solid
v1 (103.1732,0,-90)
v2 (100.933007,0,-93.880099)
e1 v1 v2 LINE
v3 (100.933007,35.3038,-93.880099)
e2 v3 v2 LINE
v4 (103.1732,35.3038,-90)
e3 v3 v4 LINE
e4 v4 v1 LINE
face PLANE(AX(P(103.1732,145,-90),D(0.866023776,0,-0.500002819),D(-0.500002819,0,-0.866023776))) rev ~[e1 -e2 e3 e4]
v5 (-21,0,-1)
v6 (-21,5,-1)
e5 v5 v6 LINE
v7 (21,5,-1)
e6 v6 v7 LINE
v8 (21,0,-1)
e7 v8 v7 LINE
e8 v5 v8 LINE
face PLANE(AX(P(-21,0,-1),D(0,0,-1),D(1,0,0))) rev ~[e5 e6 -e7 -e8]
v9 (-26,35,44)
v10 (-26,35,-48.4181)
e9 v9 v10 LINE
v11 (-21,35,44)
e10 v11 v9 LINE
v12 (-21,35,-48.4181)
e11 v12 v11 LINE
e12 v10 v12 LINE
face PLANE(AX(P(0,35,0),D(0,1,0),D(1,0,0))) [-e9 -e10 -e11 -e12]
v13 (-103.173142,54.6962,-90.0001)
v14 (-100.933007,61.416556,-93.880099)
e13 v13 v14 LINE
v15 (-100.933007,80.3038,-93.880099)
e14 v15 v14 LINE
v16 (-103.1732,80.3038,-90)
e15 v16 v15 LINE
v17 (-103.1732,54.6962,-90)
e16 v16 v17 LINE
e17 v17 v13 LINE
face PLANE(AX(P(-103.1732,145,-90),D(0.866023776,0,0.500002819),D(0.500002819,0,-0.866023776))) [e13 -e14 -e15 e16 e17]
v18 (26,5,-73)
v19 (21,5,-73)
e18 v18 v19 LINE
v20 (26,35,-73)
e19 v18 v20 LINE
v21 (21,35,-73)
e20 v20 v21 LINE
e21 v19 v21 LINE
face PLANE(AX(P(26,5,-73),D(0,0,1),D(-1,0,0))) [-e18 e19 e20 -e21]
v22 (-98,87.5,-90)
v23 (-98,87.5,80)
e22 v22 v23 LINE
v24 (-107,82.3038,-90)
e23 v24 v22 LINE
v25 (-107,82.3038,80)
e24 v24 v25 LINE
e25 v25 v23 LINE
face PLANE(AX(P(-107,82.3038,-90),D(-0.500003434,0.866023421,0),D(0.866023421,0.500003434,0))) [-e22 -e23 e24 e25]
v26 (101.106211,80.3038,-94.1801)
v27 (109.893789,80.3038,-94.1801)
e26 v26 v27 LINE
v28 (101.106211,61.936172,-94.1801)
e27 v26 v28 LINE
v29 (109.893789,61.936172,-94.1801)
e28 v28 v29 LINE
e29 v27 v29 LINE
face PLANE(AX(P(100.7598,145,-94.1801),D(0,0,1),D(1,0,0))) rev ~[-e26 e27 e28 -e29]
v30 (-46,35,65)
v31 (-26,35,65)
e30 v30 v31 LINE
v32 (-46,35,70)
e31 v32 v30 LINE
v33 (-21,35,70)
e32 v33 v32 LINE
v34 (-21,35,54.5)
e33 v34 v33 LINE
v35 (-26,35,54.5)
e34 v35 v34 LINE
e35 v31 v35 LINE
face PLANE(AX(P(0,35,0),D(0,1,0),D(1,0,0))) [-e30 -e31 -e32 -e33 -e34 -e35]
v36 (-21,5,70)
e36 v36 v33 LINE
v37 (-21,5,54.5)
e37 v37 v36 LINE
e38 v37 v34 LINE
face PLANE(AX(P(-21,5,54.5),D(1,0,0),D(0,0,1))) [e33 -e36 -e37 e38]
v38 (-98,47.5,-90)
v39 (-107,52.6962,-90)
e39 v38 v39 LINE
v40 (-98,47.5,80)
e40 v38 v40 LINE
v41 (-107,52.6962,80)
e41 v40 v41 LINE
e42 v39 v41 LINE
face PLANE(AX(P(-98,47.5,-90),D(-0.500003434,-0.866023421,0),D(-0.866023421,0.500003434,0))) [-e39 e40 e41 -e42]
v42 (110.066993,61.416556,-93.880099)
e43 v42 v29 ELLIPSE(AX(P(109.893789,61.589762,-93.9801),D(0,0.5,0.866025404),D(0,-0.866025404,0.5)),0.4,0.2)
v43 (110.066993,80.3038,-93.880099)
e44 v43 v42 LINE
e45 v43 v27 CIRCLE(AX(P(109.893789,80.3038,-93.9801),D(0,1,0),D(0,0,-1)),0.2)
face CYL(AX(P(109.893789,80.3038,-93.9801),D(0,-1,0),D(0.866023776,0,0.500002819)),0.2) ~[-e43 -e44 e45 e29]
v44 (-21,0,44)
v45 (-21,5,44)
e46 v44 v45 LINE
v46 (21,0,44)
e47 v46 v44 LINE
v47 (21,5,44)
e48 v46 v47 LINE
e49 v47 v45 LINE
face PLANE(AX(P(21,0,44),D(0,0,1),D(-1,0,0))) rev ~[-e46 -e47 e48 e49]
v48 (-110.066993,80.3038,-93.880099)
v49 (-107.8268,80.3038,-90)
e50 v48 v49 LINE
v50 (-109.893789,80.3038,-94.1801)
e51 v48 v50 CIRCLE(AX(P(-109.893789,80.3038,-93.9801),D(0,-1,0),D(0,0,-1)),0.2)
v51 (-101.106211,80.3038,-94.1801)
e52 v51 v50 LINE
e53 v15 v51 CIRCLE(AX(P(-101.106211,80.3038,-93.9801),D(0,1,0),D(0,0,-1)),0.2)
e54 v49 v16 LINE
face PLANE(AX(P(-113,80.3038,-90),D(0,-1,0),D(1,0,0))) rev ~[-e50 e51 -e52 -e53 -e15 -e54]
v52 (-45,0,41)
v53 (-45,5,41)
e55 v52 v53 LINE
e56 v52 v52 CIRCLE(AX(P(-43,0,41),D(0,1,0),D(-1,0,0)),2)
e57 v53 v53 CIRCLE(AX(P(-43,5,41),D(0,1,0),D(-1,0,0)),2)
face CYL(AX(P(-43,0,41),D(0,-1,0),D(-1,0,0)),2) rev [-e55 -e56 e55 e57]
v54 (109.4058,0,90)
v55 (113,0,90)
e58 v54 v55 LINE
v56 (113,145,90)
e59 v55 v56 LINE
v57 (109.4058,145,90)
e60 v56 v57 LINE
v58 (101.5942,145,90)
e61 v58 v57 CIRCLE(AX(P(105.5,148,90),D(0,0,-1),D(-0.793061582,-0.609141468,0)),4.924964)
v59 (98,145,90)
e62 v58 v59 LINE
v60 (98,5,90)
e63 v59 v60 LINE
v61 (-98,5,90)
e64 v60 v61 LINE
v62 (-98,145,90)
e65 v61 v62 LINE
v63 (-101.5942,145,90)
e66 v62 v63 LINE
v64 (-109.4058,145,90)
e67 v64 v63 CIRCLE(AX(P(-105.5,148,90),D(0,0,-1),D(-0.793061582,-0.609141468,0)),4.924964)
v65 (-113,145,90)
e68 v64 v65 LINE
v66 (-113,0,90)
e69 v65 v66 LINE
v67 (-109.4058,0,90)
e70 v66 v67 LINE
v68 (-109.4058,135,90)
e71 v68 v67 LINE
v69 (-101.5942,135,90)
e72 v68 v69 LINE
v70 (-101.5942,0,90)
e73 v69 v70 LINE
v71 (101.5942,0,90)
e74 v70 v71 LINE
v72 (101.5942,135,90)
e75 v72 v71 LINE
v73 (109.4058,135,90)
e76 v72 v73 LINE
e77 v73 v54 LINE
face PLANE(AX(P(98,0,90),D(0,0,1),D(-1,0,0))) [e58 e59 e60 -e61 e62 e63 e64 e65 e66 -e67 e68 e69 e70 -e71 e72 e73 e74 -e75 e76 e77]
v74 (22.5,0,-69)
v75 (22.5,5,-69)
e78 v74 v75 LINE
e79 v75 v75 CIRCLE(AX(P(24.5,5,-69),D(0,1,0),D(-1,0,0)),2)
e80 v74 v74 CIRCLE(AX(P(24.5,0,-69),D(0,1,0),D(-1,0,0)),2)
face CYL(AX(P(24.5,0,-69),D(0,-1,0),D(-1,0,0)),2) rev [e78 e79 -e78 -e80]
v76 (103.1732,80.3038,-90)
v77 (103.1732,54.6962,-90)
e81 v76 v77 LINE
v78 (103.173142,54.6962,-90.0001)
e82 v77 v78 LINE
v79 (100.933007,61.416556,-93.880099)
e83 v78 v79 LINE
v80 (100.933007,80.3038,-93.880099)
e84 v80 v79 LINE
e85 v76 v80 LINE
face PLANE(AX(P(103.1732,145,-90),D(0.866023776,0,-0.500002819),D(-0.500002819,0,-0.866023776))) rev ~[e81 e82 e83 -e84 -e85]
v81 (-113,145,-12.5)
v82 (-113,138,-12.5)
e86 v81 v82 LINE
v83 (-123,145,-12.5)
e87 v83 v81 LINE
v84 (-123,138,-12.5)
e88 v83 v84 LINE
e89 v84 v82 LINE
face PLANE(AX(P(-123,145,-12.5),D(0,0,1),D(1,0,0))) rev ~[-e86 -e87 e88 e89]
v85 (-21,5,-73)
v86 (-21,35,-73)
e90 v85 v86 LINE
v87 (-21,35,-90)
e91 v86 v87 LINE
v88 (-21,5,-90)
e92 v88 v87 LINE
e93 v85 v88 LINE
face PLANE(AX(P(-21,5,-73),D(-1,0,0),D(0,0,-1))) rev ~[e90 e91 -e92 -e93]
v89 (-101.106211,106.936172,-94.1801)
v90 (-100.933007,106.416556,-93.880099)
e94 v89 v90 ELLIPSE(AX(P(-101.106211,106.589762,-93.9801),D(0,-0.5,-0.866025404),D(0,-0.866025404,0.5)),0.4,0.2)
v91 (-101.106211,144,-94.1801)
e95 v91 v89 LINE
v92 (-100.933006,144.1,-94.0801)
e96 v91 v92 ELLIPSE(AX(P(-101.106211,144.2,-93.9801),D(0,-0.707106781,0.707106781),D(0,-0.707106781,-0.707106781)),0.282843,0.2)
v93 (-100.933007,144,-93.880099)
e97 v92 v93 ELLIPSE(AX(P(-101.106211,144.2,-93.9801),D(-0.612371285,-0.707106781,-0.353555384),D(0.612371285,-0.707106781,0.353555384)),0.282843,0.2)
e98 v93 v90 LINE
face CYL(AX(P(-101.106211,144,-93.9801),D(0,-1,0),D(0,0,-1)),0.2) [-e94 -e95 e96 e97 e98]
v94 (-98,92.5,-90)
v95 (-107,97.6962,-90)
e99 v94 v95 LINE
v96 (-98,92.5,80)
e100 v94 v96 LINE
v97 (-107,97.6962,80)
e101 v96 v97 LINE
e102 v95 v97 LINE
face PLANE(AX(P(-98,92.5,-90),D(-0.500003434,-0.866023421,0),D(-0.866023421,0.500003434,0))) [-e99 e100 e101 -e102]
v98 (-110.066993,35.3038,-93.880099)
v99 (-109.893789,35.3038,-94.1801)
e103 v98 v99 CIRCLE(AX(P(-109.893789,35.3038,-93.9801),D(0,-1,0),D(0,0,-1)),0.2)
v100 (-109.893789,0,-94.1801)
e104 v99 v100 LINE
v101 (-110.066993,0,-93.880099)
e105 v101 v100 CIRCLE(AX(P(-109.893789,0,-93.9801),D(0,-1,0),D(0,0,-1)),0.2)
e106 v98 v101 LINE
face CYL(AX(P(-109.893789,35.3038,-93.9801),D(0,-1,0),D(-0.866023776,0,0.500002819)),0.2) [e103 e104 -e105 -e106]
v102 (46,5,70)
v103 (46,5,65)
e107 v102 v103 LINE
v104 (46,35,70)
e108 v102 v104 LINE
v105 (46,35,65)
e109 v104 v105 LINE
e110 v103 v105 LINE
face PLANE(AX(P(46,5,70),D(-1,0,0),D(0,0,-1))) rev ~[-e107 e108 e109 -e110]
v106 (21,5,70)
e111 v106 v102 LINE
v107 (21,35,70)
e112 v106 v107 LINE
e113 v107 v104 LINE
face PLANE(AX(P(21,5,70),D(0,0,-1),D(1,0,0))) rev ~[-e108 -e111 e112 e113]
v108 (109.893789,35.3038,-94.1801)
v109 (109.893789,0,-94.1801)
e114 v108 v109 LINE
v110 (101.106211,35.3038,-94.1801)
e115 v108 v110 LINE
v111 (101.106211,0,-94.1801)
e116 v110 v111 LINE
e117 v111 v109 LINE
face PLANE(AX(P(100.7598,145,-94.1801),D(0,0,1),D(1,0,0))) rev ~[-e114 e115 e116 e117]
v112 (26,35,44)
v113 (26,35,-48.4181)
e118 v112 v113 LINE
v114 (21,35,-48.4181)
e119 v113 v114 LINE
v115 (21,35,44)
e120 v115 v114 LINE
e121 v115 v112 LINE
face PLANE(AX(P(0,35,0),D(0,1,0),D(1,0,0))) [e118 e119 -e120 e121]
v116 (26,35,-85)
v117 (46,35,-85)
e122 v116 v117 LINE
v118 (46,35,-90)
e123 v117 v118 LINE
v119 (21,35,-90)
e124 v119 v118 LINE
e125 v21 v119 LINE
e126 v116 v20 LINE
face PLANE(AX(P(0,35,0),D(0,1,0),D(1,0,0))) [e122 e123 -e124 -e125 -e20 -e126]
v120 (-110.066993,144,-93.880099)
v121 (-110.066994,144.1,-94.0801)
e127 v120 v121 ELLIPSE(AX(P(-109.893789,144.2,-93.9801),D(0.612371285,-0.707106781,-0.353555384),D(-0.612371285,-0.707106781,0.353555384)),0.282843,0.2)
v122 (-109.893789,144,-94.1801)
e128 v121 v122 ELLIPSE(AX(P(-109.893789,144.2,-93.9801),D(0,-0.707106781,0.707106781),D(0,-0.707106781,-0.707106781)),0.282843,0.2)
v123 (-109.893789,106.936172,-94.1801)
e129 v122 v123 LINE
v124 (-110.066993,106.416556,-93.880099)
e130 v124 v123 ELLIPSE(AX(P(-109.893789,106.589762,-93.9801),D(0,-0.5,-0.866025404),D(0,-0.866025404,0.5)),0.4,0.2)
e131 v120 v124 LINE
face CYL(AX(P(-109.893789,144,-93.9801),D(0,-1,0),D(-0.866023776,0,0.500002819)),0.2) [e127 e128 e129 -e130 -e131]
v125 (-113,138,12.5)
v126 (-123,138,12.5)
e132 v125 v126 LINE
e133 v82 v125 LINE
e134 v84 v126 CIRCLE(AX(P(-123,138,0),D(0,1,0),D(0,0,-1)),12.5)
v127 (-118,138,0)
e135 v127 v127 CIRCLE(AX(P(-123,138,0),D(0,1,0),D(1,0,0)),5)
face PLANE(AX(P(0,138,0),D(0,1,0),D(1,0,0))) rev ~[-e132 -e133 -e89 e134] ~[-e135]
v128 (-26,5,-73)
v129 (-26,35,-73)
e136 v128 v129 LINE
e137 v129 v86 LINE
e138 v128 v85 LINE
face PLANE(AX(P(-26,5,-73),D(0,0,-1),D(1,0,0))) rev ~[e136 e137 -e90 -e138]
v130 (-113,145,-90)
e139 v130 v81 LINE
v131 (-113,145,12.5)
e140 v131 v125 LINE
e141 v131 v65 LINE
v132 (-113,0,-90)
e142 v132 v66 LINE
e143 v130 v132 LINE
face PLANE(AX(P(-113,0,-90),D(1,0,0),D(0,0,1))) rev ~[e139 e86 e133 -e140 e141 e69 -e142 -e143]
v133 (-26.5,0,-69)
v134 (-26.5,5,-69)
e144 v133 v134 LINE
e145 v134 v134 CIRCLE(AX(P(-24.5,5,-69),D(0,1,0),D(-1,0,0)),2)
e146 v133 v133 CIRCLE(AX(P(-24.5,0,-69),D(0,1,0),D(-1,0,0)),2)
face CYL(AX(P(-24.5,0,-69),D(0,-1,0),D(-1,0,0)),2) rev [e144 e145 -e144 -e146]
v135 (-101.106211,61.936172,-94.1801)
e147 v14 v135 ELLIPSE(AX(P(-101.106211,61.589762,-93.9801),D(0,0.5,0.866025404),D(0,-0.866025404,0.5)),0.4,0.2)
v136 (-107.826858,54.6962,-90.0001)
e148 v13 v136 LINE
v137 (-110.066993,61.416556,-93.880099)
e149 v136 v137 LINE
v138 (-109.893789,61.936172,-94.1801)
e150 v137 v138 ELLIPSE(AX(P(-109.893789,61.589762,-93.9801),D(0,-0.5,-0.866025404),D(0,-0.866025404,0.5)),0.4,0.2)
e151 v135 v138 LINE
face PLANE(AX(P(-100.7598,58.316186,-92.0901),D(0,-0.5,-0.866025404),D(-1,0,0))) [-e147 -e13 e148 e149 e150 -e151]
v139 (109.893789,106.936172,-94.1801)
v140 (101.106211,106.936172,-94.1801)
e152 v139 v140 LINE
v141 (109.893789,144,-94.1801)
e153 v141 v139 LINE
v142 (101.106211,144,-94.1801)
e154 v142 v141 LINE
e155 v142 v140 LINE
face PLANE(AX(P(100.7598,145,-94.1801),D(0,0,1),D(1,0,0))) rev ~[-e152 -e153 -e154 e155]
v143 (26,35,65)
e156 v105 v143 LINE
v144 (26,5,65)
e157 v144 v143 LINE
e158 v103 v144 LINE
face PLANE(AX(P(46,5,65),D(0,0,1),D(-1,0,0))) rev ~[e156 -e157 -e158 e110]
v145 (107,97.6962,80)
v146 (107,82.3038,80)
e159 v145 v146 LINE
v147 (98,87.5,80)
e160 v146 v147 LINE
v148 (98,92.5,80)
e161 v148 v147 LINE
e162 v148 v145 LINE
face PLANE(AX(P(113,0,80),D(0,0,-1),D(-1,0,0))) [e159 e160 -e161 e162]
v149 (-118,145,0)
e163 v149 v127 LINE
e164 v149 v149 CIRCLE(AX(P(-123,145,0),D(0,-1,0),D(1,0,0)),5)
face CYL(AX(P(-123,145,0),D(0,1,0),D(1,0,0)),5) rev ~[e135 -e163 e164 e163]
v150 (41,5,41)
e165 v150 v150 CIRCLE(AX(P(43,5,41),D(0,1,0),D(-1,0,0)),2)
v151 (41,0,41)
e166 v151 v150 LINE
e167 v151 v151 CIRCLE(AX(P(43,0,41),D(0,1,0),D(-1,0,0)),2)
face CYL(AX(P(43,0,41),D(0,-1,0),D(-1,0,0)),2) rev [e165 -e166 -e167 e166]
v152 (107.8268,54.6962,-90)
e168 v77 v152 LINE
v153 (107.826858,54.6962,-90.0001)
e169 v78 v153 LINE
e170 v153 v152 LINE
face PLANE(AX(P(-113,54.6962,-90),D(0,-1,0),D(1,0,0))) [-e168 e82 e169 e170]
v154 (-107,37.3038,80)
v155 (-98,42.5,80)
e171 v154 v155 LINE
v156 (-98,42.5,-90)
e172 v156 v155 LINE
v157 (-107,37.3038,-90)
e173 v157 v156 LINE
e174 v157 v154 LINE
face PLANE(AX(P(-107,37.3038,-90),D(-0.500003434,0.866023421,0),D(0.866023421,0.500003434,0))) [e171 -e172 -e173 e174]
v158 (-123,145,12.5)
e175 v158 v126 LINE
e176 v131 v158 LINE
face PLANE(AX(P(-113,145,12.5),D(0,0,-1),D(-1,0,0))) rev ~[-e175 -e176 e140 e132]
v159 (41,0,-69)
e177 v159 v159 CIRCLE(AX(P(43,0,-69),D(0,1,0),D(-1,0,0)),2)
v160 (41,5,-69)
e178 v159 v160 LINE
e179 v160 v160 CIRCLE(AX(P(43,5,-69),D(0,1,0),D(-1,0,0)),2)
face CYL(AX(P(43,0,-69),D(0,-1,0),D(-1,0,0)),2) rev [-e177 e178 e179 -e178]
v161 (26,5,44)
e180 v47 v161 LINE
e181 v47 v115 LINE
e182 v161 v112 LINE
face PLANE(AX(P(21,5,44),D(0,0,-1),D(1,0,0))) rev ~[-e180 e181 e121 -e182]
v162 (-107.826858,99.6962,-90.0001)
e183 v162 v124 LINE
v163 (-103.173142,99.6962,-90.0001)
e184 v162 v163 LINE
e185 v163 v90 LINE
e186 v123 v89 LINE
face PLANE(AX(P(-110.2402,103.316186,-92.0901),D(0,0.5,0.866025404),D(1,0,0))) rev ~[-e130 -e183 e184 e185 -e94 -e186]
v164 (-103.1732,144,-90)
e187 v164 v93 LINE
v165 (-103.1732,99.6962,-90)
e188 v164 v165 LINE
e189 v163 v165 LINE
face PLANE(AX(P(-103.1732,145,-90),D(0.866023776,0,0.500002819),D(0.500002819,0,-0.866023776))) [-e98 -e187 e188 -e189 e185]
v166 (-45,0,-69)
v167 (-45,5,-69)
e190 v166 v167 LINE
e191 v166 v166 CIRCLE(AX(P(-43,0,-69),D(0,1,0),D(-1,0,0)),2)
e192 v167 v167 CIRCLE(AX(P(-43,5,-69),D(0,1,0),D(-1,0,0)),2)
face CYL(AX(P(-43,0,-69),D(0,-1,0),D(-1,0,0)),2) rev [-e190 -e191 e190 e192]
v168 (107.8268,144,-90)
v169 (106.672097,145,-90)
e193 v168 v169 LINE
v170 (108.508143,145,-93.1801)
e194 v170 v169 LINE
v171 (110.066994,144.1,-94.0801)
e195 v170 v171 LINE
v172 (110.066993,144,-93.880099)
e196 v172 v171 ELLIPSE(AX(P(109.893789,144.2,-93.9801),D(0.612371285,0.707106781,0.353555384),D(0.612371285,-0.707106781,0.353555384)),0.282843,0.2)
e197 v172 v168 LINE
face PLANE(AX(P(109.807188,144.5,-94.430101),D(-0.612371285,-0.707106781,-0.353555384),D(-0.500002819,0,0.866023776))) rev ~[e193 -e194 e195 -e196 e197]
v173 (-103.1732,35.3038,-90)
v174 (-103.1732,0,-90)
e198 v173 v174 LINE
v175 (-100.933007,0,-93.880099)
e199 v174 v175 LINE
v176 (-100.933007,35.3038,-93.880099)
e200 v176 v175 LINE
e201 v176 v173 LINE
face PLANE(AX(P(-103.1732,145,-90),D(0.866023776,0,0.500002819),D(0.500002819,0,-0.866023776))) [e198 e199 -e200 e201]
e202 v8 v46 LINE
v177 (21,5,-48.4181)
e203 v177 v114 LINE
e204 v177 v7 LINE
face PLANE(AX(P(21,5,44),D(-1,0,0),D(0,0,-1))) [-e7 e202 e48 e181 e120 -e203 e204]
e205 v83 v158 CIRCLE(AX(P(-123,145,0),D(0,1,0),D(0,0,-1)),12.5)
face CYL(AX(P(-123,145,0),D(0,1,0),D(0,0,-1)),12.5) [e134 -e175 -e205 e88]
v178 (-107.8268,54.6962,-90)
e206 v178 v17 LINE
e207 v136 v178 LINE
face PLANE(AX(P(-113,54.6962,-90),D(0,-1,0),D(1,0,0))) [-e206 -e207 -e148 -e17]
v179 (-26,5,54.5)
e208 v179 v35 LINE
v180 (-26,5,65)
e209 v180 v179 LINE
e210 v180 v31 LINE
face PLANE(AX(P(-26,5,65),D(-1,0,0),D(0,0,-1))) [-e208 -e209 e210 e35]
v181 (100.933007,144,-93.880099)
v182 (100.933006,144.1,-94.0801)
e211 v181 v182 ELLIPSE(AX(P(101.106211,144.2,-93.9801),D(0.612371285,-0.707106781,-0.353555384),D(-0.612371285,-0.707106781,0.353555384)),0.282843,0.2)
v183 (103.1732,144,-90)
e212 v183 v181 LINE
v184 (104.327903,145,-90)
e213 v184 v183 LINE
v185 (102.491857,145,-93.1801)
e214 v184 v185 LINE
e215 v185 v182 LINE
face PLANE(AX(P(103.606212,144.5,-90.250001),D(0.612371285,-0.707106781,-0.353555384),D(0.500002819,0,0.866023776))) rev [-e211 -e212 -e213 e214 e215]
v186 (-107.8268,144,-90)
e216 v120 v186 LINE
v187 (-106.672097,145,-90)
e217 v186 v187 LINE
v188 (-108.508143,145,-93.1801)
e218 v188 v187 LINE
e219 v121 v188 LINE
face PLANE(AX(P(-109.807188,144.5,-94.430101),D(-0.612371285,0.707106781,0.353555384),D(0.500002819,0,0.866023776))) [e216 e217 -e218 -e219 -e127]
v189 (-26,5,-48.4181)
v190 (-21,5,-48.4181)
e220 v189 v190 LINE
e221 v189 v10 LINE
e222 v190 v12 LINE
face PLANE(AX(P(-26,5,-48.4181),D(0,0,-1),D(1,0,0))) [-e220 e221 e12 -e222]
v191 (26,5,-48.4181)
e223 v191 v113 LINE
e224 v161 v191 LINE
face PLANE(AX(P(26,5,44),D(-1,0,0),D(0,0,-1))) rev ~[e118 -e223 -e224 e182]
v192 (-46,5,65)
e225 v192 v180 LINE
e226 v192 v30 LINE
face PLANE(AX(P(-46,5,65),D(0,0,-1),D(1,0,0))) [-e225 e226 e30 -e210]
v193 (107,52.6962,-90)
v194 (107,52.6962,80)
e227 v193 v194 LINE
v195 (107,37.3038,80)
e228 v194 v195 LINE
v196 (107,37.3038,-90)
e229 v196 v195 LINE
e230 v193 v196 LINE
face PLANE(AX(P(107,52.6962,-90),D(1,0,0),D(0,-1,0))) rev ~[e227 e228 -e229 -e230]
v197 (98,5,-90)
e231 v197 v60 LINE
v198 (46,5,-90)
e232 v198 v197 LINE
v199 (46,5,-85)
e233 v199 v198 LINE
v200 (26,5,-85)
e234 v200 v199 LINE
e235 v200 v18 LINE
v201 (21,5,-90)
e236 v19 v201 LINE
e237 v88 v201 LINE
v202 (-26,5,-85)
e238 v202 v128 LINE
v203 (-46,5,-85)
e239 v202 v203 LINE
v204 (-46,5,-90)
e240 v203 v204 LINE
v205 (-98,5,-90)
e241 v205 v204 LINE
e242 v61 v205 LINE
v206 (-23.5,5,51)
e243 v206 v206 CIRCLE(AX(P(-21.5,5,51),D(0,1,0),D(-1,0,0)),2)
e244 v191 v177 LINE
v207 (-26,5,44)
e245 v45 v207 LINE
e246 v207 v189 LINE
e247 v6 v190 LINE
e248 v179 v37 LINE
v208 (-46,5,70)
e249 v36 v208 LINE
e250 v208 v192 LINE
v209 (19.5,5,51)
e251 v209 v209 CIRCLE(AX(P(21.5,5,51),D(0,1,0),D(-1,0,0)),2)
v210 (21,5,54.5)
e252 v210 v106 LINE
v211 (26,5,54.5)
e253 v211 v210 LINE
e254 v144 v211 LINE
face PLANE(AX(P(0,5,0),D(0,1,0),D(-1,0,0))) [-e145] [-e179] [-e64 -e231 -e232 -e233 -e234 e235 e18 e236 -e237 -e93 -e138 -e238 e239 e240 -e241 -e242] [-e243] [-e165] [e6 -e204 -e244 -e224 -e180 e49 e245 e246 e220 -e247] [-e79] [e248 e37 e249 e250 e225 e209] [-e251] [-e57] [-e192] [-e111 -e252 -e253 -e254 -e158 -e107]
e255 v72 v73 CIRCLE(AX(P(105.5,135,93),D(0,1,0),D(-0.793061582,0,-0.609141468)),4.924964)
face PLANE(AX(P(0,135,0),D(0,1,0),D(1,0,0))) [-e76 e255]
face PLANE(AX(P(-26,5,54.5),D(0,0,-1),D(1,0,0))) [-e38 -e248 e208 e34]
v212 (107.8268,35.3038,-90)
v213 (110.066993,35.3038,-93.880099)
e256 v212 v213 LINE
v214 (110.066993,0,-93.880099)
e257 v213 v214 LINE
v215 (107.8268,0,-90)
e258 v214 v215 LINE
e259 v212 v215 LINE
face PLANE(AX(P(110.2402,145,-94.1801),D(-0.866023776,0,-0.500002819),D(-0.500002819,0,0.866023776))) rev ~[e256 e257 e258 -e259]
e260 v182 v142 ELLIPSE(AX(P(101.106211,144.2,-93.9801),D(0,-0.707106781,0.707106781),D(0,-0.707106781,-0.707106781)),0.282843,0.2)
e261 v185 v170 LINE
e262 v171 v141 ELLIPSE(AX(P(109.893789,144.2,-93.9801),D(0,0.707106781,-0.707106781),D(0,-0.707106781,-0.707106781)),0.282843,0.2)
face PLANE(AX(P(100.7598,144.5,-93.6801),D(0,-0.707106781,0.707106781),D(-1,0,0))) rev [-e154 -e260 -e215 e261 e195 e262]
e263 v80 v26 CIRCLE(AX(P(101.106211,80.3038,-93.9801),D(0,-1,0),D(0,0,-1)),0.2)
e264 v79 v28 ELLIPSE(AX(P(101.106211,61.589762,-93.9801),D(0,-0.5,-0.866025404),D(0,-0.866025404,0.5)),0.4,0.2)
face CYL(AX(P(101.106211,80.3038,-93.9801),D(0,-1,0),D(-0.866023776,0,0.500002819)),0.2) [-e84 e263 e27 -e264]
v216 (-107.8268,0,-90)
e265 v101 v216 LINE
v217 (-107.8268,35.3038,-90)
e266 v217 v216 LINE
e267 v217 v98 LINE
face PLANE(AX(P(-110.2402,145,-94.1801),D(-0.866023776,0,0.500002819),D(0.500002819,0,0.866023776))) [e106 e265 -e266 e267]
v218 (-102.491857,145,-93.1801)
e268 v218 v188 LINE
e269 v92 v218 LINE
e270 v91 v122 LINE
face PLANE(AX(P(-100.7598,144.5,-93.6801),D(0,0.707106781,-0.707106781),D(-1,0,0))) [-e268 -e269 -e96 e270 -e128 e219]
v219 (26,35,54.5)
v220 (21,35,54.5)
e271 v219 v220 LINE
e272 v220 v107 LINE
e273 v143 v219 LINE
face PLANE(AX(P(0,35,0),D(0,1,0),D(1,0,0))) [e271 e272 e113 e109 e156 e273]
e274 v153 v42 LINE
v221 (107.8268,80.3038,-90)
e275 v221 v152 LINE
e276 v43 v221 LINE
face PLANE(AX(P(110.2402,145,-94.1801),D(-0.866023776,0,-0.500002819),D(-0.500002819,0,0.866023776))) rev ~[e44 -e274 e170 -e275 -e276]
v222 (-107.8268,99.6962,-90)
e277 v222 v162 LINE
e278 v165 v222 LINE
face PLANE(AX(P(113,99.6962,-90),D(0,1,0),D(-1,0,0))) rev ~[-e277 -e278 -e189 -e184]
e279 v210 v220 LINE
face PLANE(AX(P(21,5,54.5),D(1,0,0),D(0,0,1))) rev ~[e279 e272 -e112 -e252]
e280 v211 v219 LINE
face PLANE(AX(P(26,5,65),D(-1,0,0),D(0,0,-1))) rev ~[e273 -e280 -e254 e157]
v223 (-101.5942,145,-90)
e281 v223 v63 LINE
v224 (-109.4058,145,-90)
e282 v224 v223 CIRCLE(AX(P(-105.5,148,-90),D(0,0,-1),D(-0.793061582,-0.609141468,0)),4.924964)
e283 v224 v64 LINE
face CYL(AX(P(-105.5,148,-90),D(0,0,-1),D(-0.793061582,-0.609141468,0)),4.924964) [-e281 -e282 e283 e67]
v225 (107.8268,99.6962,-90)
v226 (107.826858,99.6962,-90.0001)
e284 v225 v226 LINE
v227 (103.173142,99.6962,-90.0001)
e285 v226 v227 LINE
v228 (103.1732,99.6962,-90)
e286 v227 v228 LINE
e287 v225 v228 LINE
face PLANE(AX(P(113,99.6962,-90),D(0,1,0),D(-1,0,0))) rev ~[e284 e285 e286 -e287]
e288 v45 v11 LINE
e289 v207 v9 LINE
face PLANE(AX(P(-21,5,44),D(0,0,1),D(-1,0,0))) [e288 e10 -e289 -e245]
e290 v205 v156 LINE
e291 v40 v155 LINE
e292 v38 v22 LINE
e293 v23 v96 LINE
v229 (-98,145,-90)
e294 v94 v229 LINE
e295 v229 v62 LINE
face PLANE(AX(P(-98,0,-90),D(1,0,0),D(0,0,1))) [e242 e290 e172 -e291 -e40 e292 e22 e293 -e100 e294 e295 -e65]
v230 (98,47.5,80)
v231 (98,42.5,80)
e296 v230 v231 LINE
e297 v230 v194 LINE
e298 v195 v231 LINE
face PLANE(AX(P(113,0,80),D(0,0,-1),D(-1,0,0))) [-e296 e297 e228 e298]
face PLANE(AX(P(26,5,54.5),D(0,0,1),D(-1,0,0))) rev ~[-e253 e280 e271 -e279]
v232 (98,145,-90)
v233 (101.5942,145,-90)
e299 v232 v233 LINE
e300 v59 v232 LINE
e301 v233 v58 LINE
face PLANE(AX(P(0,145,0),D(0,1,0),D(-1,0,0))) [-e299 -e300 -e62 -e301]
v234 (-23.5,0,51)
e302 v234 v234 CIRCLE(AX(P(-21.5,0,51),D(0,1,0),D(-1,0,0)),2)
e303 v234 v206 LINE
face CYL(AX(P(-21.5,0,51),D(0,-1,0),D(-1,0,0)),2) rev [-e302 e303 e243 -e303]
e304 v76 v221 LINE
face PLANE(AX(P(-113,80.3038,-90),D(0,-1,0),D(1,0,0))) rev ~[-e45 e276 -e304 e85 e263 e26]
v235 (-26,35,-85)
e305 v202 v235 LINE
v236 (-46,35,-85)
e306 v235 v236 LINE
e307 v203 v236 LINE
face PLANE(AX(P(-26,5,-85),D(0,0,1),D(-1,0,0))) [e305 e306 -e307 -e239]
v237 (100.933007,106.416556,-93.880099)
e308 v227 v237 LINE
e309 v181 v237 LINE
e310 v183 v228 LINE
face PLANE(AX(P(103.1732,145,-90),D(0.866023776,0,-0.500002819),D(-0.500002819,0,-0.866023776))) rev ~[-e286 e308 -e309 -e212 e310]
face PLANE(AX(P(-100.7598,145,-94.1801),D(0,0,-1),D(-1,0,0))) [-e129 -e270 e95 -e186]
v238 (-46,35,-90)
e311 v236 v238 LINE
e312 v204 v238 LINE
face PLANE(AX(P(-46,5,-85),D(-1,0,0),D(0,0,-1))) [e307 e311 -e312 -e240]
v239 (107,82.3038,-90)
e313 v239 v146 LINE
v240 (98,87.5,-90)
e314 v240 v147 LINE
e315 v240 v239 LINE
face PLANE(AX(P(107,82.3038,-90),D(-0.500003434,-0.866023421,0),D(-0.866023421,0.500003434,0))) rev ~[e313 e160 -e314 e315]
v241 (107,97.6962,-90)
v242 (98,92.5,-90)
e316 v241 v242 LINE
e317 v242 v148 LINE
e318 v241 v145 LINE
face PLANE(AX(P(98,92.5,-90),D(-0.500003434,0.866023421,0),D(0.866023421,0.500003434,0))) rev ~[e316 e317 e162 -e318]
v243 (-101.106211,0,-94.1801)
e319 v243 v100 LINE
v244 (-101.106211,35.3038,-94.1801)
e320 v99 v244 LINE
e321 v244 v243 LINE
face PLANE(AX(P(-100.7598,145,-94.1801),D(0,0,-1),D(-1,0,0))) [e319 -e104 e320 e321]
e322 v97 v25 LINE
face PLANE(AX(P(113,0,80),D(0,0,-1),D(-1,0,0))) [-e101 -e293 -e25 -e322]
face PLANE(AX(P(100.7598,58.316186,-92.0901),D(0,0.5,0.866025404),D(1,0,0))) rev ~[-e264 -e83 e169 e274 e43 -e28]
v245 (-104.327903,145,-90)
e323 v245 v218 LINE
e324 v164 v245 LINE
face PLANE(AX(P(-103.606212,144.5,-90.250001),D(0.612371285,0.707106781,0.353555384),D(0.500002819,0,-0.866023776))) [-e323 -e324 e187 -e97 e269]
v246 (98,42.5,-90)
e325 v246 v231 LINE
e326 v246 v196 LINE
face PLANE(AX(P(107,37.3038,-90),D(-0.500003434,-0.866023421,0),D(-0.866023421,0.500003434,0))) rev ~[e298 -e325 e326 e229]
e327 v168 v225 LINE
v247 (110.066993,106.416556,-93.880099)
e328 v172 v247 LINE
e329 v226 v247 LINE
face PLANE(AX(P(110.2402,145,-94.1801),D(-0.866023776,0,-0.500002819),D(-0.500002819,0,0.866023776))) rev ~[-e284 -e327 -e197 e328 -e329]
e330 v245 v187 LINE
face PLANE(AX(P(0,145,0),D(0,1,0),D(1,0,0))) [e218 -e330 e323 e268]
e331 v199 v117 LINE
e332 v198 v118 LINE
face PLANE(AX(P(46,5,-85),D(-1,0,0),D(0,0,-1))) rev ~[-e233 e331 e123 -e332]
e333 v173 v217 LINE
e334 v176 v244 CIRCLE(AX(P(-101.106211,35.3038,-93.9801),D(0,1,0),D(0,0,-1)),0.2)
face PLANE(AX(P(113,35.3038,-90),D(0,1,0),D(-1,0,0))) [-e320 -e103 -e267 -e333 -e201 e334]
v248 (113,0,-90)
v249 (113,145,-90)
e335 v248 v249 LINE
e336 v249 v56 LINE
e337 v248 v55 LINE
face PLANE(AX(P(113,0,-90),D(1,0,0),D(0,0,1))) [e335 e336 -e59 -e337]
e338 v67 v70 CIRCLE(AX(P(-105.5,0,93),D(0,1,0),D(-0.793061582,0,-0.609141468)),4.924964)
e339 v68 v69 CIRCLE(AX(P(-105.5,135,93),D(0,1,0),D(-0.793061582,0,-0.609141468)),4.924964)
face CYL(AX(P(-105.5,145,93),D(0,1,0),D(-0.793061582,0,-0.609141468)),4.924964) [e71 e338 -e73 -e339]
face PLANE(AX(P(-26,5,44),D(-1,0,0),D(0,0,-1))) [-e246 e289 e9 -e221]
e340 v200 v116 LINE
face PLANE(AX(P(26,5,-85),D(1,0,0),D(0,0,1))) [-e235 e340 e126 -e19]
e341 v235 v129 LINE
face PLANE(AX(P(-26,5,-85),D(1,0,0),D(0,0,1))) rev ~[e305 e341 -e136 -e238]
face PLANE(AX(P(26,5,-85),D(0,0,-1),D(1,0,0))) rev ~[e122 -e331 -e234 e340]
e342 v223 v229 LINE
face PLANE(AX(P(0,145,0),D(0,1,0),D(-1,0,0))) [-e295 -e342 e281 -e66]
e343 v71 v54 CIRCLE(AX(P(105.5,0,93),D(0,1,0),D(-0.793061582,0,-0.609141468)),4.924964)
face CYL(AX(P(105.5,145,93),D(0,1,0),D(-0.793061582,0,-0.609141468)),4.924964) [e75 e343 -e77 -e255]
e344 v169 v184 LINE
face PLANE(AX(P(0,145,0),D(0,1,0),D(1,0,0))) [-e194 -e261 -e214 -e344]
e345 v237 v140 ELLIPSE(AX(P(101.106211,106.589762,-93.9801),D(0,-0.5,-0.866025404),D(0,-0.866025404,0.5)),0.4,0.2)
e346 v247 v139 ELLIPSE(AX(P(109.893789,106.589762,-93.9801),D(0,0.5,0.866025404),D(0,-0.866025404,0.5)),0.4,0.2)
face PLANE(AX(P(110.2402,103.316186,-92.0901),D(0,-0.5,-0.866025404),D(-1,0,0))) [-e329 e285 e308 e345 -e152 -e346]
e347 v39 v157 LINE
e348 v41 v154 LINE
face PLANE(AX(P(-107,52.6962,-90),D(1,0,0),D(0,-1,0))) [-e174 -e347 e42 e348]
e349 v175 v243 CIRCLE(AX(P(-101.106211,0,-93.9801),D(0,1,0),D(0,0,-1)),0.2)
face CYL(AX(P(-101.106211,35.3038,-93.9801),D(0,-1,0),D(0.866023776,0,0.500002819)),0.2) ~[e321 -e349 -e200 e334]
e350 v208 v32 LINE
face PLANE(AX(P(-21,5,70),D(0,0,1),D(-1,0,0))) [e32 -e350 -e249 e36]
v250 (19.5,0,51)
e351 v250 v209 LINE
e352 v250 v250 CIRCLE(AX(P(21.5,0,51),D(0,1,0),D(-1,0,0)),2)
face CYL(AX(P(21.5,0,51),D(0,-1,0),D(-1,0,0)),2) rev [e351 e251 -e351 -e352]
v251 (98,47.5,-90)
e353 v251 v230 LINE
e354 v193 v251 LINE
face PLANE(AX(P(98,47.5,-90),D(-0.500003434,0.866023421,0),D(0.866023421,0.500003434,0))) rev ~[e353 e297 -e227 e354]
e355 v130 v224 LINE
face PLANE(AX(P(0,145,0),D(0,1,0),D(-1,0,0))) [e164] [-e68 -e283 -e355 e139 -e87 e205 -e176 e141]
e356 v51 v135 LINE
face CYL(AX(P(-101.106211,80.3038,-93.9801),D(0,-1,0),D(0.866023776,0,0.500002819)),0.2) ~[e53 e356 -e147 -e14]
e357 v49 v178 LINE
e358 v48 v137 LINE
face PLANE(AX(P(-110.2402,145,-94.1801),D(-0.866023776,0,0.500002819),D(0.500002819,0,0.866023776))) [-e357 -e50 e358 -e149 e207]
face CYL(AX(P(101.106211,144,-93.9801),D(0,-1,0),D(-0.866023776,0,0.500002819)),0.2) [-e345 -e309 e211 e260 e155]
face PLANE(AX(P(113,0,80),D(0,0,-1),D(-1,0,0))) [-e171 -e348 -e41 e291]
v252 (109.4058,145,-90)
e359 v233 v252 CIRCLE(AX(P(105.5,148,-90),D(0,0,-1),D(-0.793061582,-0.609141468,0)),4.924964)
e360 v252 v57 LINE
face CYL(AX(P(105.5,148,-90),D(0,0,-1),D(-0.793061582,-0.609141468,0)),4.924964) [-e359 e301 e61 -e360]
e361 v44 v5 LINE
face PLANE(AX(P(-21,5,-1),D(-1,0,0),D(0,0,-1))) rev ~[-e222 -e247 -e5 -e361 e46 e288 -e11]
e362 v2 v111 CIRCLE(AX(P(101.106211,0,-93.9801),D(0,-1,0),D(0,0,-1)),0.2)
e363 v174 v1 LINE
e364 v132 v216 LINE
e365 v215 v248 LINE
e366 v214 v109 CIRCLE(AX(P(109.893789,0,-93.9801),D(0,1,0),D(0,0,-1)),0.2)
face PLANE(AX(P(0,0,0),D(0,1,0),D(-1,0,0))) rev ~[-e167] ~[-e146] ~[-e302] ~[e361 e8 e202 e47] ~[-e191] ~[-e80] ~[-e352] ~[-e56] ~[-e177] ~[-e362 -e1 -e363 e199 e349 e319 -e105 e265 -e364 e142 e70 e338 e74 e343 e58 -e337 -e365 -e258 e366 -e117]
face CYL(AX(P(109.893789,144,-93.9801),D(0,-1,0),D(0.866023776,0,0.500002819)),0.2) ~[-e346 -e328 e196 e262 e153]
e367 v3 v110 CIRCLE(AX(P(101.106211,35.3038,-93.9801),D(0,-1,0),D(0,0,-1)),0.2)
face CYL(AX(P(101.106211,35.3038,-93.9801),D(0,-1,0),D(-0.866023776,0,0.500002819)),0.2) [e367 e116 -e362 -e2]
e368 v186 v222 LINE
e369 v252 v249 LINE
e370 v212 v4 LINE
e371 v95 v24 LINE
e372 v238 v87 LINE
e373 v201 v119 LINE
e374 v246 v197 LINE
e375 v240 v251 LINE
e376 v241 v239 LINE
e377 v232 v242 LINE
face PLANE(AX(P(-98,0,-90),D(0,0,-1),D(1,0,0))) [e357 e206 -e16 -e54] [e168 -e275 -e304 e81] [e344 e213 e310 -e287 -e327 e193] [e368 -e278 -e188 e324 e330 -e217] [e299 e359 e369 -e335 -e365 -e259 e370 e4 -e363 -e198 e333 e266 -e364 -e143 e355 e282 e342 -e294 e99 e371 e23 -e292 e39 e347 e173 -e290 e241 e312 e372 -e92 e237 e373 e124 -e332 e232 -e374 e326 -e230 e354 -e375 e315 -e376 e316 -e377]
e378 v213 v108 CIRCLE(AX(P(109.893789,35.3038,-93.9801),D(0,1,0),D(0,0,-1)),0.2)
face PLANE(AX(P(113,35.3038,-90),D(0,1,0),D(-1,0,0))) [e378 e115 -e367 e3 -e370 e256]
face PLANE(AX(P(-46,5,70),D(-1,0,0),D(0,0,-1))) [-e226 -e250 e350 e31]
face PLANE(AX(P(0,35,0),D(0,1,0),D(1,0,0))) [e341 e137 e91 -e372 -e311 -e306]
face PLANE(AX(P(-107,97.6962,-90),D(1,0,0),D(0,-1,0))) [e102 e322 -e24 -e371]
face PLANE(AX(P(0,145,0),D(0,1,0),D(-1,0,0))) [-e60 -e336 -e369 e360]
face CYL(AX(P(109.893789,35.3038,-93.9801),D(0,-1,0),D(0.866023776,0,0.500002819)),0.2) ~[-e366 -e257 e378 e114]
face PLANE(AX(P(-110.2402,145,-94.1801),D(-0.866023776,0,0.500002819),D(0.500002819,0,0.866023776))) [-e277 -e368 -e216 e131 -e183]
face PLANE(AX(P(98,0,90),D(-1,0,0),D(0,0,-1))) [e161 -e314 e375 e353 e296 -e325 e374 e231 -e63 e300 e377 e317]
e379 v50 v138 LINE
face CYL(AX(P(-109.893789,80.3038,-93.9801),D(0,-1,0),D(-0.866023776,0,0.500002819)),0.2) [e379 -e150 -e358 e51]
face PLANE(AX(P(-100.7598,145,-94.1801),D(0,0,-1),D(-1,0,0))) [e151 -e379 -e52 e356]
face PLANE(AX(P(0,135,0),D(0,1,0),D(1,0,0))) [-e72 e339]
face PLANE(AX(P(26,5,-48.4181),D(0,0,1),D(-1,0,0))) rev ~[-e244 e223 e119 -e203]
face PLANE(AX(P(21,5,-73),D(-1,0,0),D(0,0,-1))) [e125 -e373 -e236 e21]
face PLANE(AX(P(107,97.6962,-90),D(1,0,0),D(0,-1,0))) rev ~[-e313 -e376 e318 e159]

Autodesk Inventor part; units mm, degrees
ref_plane "YZ Plane" through (0, 0, 0) normal (1, 0, 0) x (0, 1, 0)
ref_plane "XZ Plane" through (0, 0, 0) normal (0, 1, 0) x (-1, 0, 0)
ref_plane "XY Plane" through (0, 0, 0) normal (0, 0, 1) x (1, 0, 0)
sketch "Boceto2" plane through (0, 0, 0) normal (0, 1, 0) x (-1, 0, 0)
  line L0 (-98, 90) -> (98, 90)
  line L1 (98, 90) -> (98, -90)
  line L2 (98, -90) -> (-98, -90)
  line L3 (-98, -90) -> (-98, 90)
  line L4 (-98, 90) -> (98, -90) construction
  line L5 (98, 90) -> (-98, -90) construction
  line L6 (0, -120.4592) -> (0, 245.0518) construction
  line L7 (141.8909, 0) -> (-193.3572, 0) construction
  circle A0 centre (24.5, -69) radius 2
  circle A1 centre (-24.5, -69) radius 2
  line L8 (106.6524, -69) -> (-120.4554, -69) construction
  circle A2 centre (43, -69) radius 2
  circle A3 centre (-43, -69) radius 2
  line L9 (127.2452, 51) -> (-131.3405, 51) construction
  circle A4 centre (21.5, 51) radius 2
  circle A5 centre (-21.5, 51) radius 2
  line L10 (127.2452, 41) -> (-220.4146, 41) construction
  circle A6 centre (43, 41) radius 2
  circle A7 centre (-43, 41) radius 2
  line L11 (-21, 44) -> (21, 44)
  line L12 (21, 44) -> (21, -1)
  line L13 (21, -1) -> (-21, -1)
  line L14 (-21, -1) -> (-21, 44)
  line L15 (-21, 44) -> (21, -1) construction
  line L16 (21, 44) -> (-21, -1) construction
  point P0 (0, 0)
  point P1 (0, 21.5)
  dimension "d0" = 196
  dimension "d1" = 180
  dimension "d2" = 4
  dimension "d3" = 4
  dimension "d4" = 21
  dimension "d5" = 49
  dimension "d6" = 4
  dimension "d7" = 4
  dimension "d8" = 86
  dimension "d10" = 4
  dimension "d11" = 4
  dimension "d12" = 43
  dimension "d13" = 141
  dimension "d14" = 10
  dimension "d15" = 4
  dimension "d16" = 4
  dimension "d17" = 86
  dimension "d18" = 42
  dimension "d19" = 45
  dimension "d20" = 89
extrude "Extrusión1" add sketch "Boceto2" along normal blind 5
sketch "Boceto4" plane through (0, 0, 0) normal (0, 1, 0) x (-1, 0, 0)
  line L0 (-98, -90) -> (98, -90) projected
  line L1 (98, -90) -> (98, 90) projected
  line L2 (98, 90) -> (-98, 90) projected
  line L3 (-98, 90) -> (-98, -90) projected
  line L4 (113, -90) -> (113, 90)
  line L5 (-113, -90) -> (-113, 90)
  line L6 (203.0929, 0) -> (-180.6061, 0) construction
  line L7 (113, -90) -> (98, -90)
  line L8 (98, -90) -> (98, 90)
  line L9 (113, 90) -> (98, 90)
  line L10 (-98, -90) -> (-113, -90)
  line L11 (-113, 90) -> (-98, 90)
  line L12 (-98, 90) -> (-98, -90)
  point P0 (0, 0)
  point P1 (113, 0)
  point P2 (-113, 0)
  dimension "d25" = 15
  dimension "d26" = 15
extrude "Extrusión2" add sketch "Boceto4" along normal blind 145 contours L10 L5 L11 L3 | L1 L9 L4 L7
sketch "Boceto5" plane through (0, 5, 0) normal (0, 1, 0) x (1, 0, 0)
  line L0 (-113, -90) -> (-113, 90) projected
  line L1 (-113, 90) -> (-98, 90) projected
  line L2 (-98, 90) -> (-98, -90) projected
  line L3 (98, -90) -> (-98, -90) projected
  line L4 (98, -90) -> (98, 90) projected
  line L5 (98, 90) -> (113, 90) projected
  line L6 (113, 90) -> (113, -90) projected
  line L7 (113, -90) -> (98, -90) projected
  line L8 (-98, -90) -> (-113, -90) projected
  line L9 (-98, 90) -> (98, 90) projected
  line L10 (21, -44) -> (21, 1) projected
  line L11 (21, 1) -> (-21, 1) projected
  line L12 (-21, 1) -> (-21, -44) projected
  line L13 (-21, -44) -> (21, -44) projected
  circle A0 centre (-24.5, 69) radius 2 projected
  circle A1 centre (24.5, 69) radius 2 projected
  circle A2 centre (-43, 69) radius 2 projected
  circle A3 centre (43, 69) radius 2 projected
  circle A4 centre (-21.5, -51) radius 2 projected
  circle A5 centre (21.5, -51) radius 2 projected
  circle A6 centre (-43, -41) radius 2 projected
  circle A7 centre (43, -41) radius 2 projected
  line L14 (98, 90) -> (-98, 90) projected
  line L15 (21, -44) -> (26, -44)
  line L16 (26, 48.4181) -> (21, 48.4181)
  line L17 (158.8769, 0) -> (-159.3491, 0) construction
  line L18 (0, -90) -> (0, 90) construction
  line L19 (-21, -44) -> (-21, 1)
  line L20 (26, 85) -> (46, 85)
  line L21 (21, 90) -> (46, 90)
  line L22 (46, 85) -> (46, 90)
  line L23 (26, 85) -> (26, 73)
  line L24 (26, 73) -> (21, 73)
  line L25 (21, -44) -> (21, 48.4181)
  line L26 (21, 73) -> (21, 90)
  line L27 (26, -44) -> (26, 48.4181)
  line L28 (21, -54.5) -> (21, -70)
  line L29 (21, -70) -> (46, -70)
  line L30 (46, -70) -> (46, -65)
  line L31 (46, -65) -> (26, -65)
  line L32 (26, -65) -> (26, -54.5)
  line L33 (26, -54.5) -> (21, -54.5)
  line L34 (21, 1) -> (21, -44) projected
  line L35 (98, 90) -> (-98, 90) projected
  line L36 (-98, 90) -> (-98, -90) projected
  line L37 (-98, -90) -> (98, -90) projected
  line L38 (98, -90) -> (98, 90) projected
  circle A8 centre (43, -41) radius 2 projected
  circle A9 centre (-43, -41) radius 2 projected
  circle A10 centre (21.5, -51) radius 2 projected
  circle A11 centre (-21.5, -51) radius 2 projected
  circle A12 centre (43, 69) radius 2 projected
  circle A13 centre (-43, 69) radius 2 projected
  circle A14 centre (24.5, 69) radius 2 projected
  circle A15 centre (-24.5, 69) radius 2 projected
  line L39 (21, -44) -> (-21, -44) projected
  line L40 (-21, -44) -> (-21, 1) projected
  line L41 (-21, 1) -> (21, 1) projected
  line L42 (21, 1) -> (21, -44) projected
  line L43 (-21, -54.5) -> (-21, -70)
  line L44 (-21, -70) -> (-46, -70)
  line L45 (-46, -70) -> (-46, -65)
  line L46 (-46, -65) -> (-26, -65)
  line L47 (-26, -65) -> (-26, -54.5)
  line L48 (-26, -54.5) -> (-21, -54.5)
  line L49 (-26, 85) -> (-46, 85)
  line L50 (-21, 90) -> (-46, 90)
  line L51 (-46, 85) -> (-46, 90)
  line L52 (-26, 85) -> (-26, 73)
  line L53 (-26, 73) -> (-21, 73)
  line L54 (-21, 73) -> (-21, 90)
  line L55 (-21, -44) -> (-21, 1)
  line L56 (-21, -44) -> (-26, -44)
  line L57 (-26, 48.4181) -> (-21, 48.4181)
  line L58 (-21, -44) -> (-21, 48.4181)
  line L59 (-26, -44) -> (-26, 48.4181)
  line L60 (-21, 1) -> (-21, -44)
  line L61 (-21, 1) -> (-21, -44)
  point P0 (0, 0)
  dimension "d32" = 20
  dimension "d34" = 5
  dimension "d35" = 5
  dimension "d39" = 5
  dimension "d40" = 25
  dimension "d41" = 5
  dimension "d42" = 20
  dimension "d43" = 150
  dimension "d44" = 15.5
  dimension "d45" = 17
extrude "Extrusión3" add sketch "Boceto5" along normal blind 30 contours L9 L54 L53 L52 L49 L51 | L22 L20 L23 L24 L26 L9 | L10 L25 L16 L27 L15 | L56 L59 L57 L58 L12 | L33 L32 L31 L30 L29 L28 | L43 L44 L45 L46 L47 L48
sketch "Boceto6" plane through (113, 0, -90) normal (0, 0, -1) x (-1, 0, 0)
  line L0 (226, 145) -> (226, 0) projected
  line L1 (226, 0) -> (0, 0) projected
  line L2 (0, 0) -> (0, 145) projected
  line L3 (0, 145) -> (15, 145) projected
  line L4 (15, 145) -> (15, 5) projected
  line L5 (15, 5) -> (67, 5) projected
  line L6 (67, 5) -> (67, 35) projected
  line L7 (67, 35) -> (92, 35) projected
  line L8 (92, 35) -> (92, 5) projected
  line L9 (92, 5) -> (134, 5) projected
  line L10 (134, 5) -> (134, 35) projected
  line L11 (134, 35) -> (159, 35) projected
  line L12 (159, 35) -> (159, 5) projected
  line L13 (159, 5) -> (211, 5) projected
  line L14 (211, 5) -> (211, 145) projected
  line L15 (211, 145) -> (226, 145) projected
  line L16 (226, 45) -> (-12.5381, 45) construction
  line L17 (15, 50) -> (15, 47.5)
  line L18 (15, 47.5) -> (6, 52.6962)
  line L19 (6, 52.6962) -> (6, 37.3038)
  line L20 (6, 37.3038) -> (15, 42.5)
  line L21 (15, 40) -> (15, 42.5)
  line L22 (15, 47.5) -> (15, 50)
  line L23 (15, 5) -> (15, 145) projected
  line L24 (15, 47.5) -> (24.0333, 47.5) construction
  line L25 (15, 42.5) -> (24.4759, 42.5) construction
  line L26 (113, 0) -> (113, 106.3202) construction
  line L27 (15, 50) -> (15, 47.5) construction
  line L28 (15, 42.5) -> (15, 40) construction
  line L29 (15, 50) -> (15, 47.5) construction
  line L30 (15, 40) -> (15, 42.5) construction
  line L31 (211, 50) -> (211, 47.5)
  line L32 (211, 47.5) -> (220, 52.6962)
  line L33 (220, 52.6962) -> (220, 37.3038)
  line L34 (220, 37.3038) -> (211, 42.5)
  line L35 (211, 42.5) -> (211, 42.5)
  line L36 (211, 47.5) -> (211, 50)
  line L37 (211, 50) -> (211, 47.5) construction
  line L38 (211, 42.5) -> (211, 42.5) construction
  line L39 (211, 50) -> (211, 47.5) construction
  line L40 (211, 42.5) -> (211, 42.5) construction
  line L41 (15, 50) -> (15, 47.5)
  line L42 (15, 42.5) -> (15, 40)
  line L43 (211, 50) -> (211, 47.5)
  line L44 (211, 45) -> (211, 42.5)
  line L45 (211, 50) -> (211, 45)
  line L46 (211, 42.5) -> (211, 42.5)
  line L47 (15, 40) -> (211, 40) construction
  line L48 (211, 50) -> (15, 50) construction
  line L49 (15, 95) -> (15, 92.5)
  line L50 (15, 92.5) -> (6, 97.6962)
  line L51 (6, 97.6962) -> (6, 82.3038)
  line L52 (6, 82.3038) -> (15, 87.5)
  line L53 (15, 85) -> (15, 87.5)
  line L54 (15, 92.5) -> (15, 95)
  line L55 (15, 92.5) -> (24.0333, 92.5) construction
  line L56 (15, 87.5) -> (24.4759, 87.5) construction
  line L57 (15, 95) -> (15, 92.5) construction
  line L58 (15, 87.5) -> (15, 85) construction
  line L59 (15, 95) -> (15, 92.5) construction
  line L60 (15, 85) -> (15, 87.5) construction
  line L61 (15, 95) -> (15, 92.5)
  line L62 (15, 85) -> (211, 85) construction
  line L63 (211, 95) -> (15, 95) construction
  line L64 (15, 92.5) -> (15, 87.5)
  line L65 (211, 95) -> (211, 92.5)
  line L66 (211, 92.5) -> (211, 95)
  line L67 (211, 95) -> (211, 92.5)
  line L68 (211, 95) -> (211, 92.5) construction
  line L69 (220, 82.3038) -> (211, 87.5)
  line L70 (220, 97.6962) -> (220, 82.3038)
  line L71 (211, 92.5) -> (220, 97.6962)
  line L72 (211, 95) -> (211, 92.5) construction
  line L73 (211, 87.5) -> (211, 85) construction
  line L74 (211, 85) -> (211, 87.5) construction
  line L75 (211, 85) -> (211, 87.5)
  line L76 (211, 92.5) -> (211, 87.5)
  point P0 (6, 45)
  point P1 (220, 45)
  point P2 (6, 90)
  point P3 (19.5166, 92.5)
  point P4 (10.5, 95.0981)
  point P5 (211, 85)
  point P6 (211, 95)
  point P7 (220, 90)
  point P8 (215.5, 95.0981)
  point P9 (15, 92.5)
  dimension "d52" = 60
  dimension "d53" = 2.5
  dimension "d57" = 9
  dimension "d65" = 10
  dimension "d66" = 60
  dimension "d67" = 10
  dimension "d68" = 35
  dimension "d69" = 35
  dimension "d70" = 2.5
  dimension "d71" = 2.5
extrude "Extrusión4" cut sketch "Boceto6" against normal blind 170 contours L71 L70 L69 L14 | L4 L52 L51 L50 | L32 L33 L34 L14 | L4 L20 L19 L18
sketch "Boceto7" plane through (0, 145, 0) normal (0, 1, 0) x (1, 0, 0)
  line L0 (98, -90) -> (113, -90) projected
  line L1 (-113, -90) -> (-98, -90) projected
  line L2 (105.5, -90) -> (105.5, -56.437) construction
  line L3 (105.5, -90) -> (105.5, -123.7842) construction
  line L4 (0, 0) -> (0, -202.84) construction
  arc A0 (101.5942, -90) -> (109.4058, -90) centre (105.5, -93) ccw
  arc A1 (-109.4058, -90) -> (-101.5942, -90) centre (-105.5, -93) ccw
  point P0 (-105.5, -90)
  point P1 (-101.5942, -90)
  point P2 (-109.4058, -90)
  dimension "d58" = 3
  dimension "d59" = 9.85
extrude "Extrusión5" add sketch "Boceto7" against normal blind 145
sketch "Boceto8" plane through (0, 145, 0) normal (0, 1, 0) x (1, 0, 0)
  line L0 (-113, -90) -> (113, -90) projected
  line L1 (113, -90) -> (-113, -90)
  line L2 (-113, -90) -> (-113, -105)
  line L3 (-113, -105) -> (113, -105)
  line L4 (113, -105) -> (113, -90)
  line L5 (-113, 90) -> (-113, -90) projected
  point P0 (0, 0)
  point P1 (109.4058, -90)
  point P2 (107.3028, -90)
  dimension "d62" = 15
extrude "Extrusión6" cut sketch "Boceto8" against normal blind 10
sketch "Boceto9" plane through (113, 0, -90) normal (0, 0, -1) x (-1, 0, 0)
  line L0 (0, 145) -> (15, 145) projected
  line L1 (7.5, 145) -> (7.5, 175.346) construction
  arc A0 (11.4058, 145) -> (3.5942, 145) centre (7.5, 148) ccw
  line L2 (113, 0) -> (113, 199.4822) construction
  arc A1 (222.4058, 145) -> (214.5942, 145) centre (218.5, 148) ccw
  line L3 (211, 145) -> (226, 145) projected
  dimension "d87" = 9.85
  dimension "d88" = 3
extrude "Extrusión7" add sketch "Boceto9" against normal blind 180
sketch "Boceto10" plane through (0, 145, 0) normal (0, 1, 0) x (1, 0, 0)
  line L0 (-113, 90) -> (-113, -90) construction
  line L1 (-113, 0) -> (-204.3255, 0) construction
  line L2 (-113, -12.5) -> (-123, -12.5)
  line L3 (-123, -12.5) -> (-123, 12.5)
  line L4 (-123, 12.5) -> (-113, 12.5)
  line L5 (-113, 12.5) -> (-113, -12.5)
  circle A0 centre (-123, 0) radius 5
  arc A1 (-123, 12.5) -> (-123, -12.5) centre (-123, 0) ccw
  point P0 (0, 0)
  dimension "d91" = 10
  dimension "d92" = 25
  dimension "d93" = 10
extrude "Extrusión8" add sketch "Boceto10" against normal blind 7 contours L2 L3 A0 L4 L5 | A1 L3 A0
sketch "Boceto12" plane through (0, 145, 0) normal (0, 1, 0) x (1, 0, 0)
  line L0 (113, 90) -> (-113, 90) projected
  line L1 (-113, 90) -> (-107, 90)
  line L2 (0, 90) -> (0, 142.1234) construction
  line L3 (-100.575, 90) -> (-110.425, 90) projected
  line L4 (-109.4058, 90) -> (-113, 90) projected
  line L5 (-110.425, 90) -> (-110.425, -90) projected
  line L6 (-110.425, 90) -> (-110.425, -90) projected
  line L7 (-110.425, 90) -> (-107, 90)
  line L8 (-107, 90) -> (-110.425, 90)
  line L9 (-113, 90) -> (-113, 12.5) projected
  line L10 (-113, 90) -> (-107, 90) construction
  line L11 (-110.425, 90) -> (-107, 90)
  line L12 (-110.425, 90) -> (-107, 90)
  line L13 (-113, 90) -> (113, 90)
  line L14 (-109.4058, 90) -> (-101.5942, 90) projected
  line L15 (-109.4058, -90) -> (-109.4058, 90) projected
  line L16 (-101.5942, -90) -> (-109.4058, -90) projected
  line L17 (-101.5942, 90) -> (-101.5942, -90) projected
  line L18 (-101.5942, 90) -> (-109.4058, 90) construction
  line L19 (-105.5, 90) -> (-105.5, 105.6895) construction
  line L20 (-103, 90) -> (-108, 90) construction
  line L21 (-108, 90) -> (-108, 94.3301) construction
  line L22 (-108, 94.3301) -> (-103, 94.3301) construction
  line L23 (-103, 94.3301) -> (-103, 90) construction
  line L24 (-103, 90) -> (-100.5, 94.3301) construction
  line L25 (-100.5, 94.3301) -> (-110.5, 94.3301) construction
  line L26 (-110.5, 94.3301) -> (-108, 90) construction
  line L27 (-103, 90) -> (-108, 90)
  line L28 (-103, 90) -> (-108, 90)
  line L29 (-103.1732, 90) -> (-100.7598, 94.1801)
  line L30 (-100.7598, 94.1801) -> (-110.2402, 94.1801)
  line L31 (-110.2402, 94.1801) -> (-107.8268, 90)
  line L32 (103.1732, 90) -> (100.7598, 94.1801)
  line L33 (100.7598, 94.1801) -> (110.2402, 94.1801)
  line L34 (110.2402, 94.1801) -> (107.8268, 90)
  point P0 (0, 0)
  point P1 (-105.5, 90)
  dimension "d113" = 5
  dimension "d115" = 60
  dimension "d116" = 10
  dimension "d117" = 0.15
  dimension "d123" = 7.5
extrude "Extrusión11" add sketch "Boceto12" against normal blind 145 contours L0 L32 L33 L34 | L0 L31 L30 L29
sketch "Boceto14" plane through (98, 47.5, -90) normal (0, 0, -1) x (-1, 0, 0)
  line L0 (-9, 50.1962) -> (0, 45) projected
  line L1 (-9, 34.8038) -> (-9, 50.1962) projected
  line L2 (0, 40) -> (-9, 34.8038) projected
  line L3 (-15, -47.5) -> (-15, 97.5) projected
  line L4 (205, 50.1962) -> (205, 34.8038) projected
  line L5 (211, -47.5) -> (211, 97.5) projected
  line L6 (205, 5.1962) -> (205, -10.1962) projected
  line L7 (-9, -10.1962) -> (-9, 5.1962) projected
  line L8 (-9, 5.1962) -> (0, 0) projected
  line L9 (0, -5) -> (-9, -10.1962) projected
  line L10 (205, -10.1962) -> (196, -5) projected
  line L11 (196, 0) -> (205, 5.1962) projected
  line L12 (205, 34.8038) -> (196, 40) projected
  line L13 (196, 45) -> (205, 50.1962) projected
  line L14 (-15, 52.1962) -> (211, 52.1962)
  line L15 (211, 52.1962) -> (211, 32.8038)
  line L16 (211, 32.8038) -> (-15, 32.8038)
  line L17 (-15, 32.8038) -> (-15, 52.1962)
  line L18 (-9, 42.5) -> (205, 42.5) construction
  line L19 (0, 40) -> (0, 0) construction
  line L20 (0, 20) -> (196, 20) construction
  line L21 (196, -42.5) -> (196, 97.5) construction
  line L22 (-15, -12.1962) -> (211, -12.1962)
  line L23 (211, 7.1962) -> (-15, 7.1962)
  line L24 (-9, -2.5) -> (205, -2.5) construction
  point P0 (98, -47.5)
  point P1 (-15, 7.1962)
  point P2 (-15, -12.1962)
  point P3 (211, -12.1962)
  point P4 (-15, 32.8038)
  point P5 (211, 52.1962)
  dimension "d120" = 2
extrude "Extrusión12" cut sketch "Boceto14" along normal blind 10 contours L3 L23 L5 L22 | L3 L14 L5 L16
chamfer "Chaflán1" distance 4.18 angle 60 1 edges at (105.5, 99.6962, -94.1801) measured on face at (104.7244, 99.6962, -92.7868)
chamfer "Chaflán2" distance 4.18 angle 60 1 edges at (105.5, 54.6962, -94.1801) measured on face at (104.7244, 54.6962, -92.7868)
chamfer "Chaflán3" distance 4.18 angle 60 1 edges at (-105.5, 54.6962, -94.1801) measured on face at (-104.7244, 54.6962, -92.7868)
chamfer "Chaflán4" distance 4.18 angle 60 1 edges at (-105.5, 99.6962, -94.1801) measured on face at (-104.7244, 99.6962, -92.7868)
chamfer "Chaflán5" distance 1 angle 45 6 edges at (101.9665, 145, -92.0901) (105.5, 145, -94.1801) (109.0335, 145, -92.0901) (-109.0335, 145, -92.0901) (-105.5, 145, -94.1801) (-101.9665, 145, -92.0901)
fillet "Empalme1" radius 0.2 12 edges at (100.7598, 125.4681, -94.1801) (110.2402, 125.4681, -94.1801) (110.2402, 71.12, -94.1801) (100.7598, 71.12, -94.1801) (110.2402, 17.6519, -94.1801) (100.7598, 17.6519, -94.1801) (-110.2402, 17.6519, -94.1801) (-100.7598, 17.6519, -94.1801) (-110.2402, 71.12, -94.1801) (-100.7598, 71.12, -94.1801) (-110.2402, 125.4681, -94.1801) (-100.7598, 125.4681, -94.1801)
equation "\"d0\" = W_base"
equation "\"d1\" = L_base"
equation "\"d21\" = T_base"
equation "\"d25\" = T_pared"
equation "\"d26\" = T_pared"
equation "\"d27\" = H_pared"
equation "\"d53\" = 0.25 * T_suelo"
equation "\"d60\" = H_pared"
equation "\"d89\" = L_base"
equation "\"d118\" = H_pared"
equation "\"W_base\" = 196"
equation "\"L_base\" = 180"
equation "\"T_base\" = 5"
equation "\"T_pared\" = 15"
equation "\"H_pared\" = 145"
equation "\"T_suelo\" = 10"
properties part number "Base"
